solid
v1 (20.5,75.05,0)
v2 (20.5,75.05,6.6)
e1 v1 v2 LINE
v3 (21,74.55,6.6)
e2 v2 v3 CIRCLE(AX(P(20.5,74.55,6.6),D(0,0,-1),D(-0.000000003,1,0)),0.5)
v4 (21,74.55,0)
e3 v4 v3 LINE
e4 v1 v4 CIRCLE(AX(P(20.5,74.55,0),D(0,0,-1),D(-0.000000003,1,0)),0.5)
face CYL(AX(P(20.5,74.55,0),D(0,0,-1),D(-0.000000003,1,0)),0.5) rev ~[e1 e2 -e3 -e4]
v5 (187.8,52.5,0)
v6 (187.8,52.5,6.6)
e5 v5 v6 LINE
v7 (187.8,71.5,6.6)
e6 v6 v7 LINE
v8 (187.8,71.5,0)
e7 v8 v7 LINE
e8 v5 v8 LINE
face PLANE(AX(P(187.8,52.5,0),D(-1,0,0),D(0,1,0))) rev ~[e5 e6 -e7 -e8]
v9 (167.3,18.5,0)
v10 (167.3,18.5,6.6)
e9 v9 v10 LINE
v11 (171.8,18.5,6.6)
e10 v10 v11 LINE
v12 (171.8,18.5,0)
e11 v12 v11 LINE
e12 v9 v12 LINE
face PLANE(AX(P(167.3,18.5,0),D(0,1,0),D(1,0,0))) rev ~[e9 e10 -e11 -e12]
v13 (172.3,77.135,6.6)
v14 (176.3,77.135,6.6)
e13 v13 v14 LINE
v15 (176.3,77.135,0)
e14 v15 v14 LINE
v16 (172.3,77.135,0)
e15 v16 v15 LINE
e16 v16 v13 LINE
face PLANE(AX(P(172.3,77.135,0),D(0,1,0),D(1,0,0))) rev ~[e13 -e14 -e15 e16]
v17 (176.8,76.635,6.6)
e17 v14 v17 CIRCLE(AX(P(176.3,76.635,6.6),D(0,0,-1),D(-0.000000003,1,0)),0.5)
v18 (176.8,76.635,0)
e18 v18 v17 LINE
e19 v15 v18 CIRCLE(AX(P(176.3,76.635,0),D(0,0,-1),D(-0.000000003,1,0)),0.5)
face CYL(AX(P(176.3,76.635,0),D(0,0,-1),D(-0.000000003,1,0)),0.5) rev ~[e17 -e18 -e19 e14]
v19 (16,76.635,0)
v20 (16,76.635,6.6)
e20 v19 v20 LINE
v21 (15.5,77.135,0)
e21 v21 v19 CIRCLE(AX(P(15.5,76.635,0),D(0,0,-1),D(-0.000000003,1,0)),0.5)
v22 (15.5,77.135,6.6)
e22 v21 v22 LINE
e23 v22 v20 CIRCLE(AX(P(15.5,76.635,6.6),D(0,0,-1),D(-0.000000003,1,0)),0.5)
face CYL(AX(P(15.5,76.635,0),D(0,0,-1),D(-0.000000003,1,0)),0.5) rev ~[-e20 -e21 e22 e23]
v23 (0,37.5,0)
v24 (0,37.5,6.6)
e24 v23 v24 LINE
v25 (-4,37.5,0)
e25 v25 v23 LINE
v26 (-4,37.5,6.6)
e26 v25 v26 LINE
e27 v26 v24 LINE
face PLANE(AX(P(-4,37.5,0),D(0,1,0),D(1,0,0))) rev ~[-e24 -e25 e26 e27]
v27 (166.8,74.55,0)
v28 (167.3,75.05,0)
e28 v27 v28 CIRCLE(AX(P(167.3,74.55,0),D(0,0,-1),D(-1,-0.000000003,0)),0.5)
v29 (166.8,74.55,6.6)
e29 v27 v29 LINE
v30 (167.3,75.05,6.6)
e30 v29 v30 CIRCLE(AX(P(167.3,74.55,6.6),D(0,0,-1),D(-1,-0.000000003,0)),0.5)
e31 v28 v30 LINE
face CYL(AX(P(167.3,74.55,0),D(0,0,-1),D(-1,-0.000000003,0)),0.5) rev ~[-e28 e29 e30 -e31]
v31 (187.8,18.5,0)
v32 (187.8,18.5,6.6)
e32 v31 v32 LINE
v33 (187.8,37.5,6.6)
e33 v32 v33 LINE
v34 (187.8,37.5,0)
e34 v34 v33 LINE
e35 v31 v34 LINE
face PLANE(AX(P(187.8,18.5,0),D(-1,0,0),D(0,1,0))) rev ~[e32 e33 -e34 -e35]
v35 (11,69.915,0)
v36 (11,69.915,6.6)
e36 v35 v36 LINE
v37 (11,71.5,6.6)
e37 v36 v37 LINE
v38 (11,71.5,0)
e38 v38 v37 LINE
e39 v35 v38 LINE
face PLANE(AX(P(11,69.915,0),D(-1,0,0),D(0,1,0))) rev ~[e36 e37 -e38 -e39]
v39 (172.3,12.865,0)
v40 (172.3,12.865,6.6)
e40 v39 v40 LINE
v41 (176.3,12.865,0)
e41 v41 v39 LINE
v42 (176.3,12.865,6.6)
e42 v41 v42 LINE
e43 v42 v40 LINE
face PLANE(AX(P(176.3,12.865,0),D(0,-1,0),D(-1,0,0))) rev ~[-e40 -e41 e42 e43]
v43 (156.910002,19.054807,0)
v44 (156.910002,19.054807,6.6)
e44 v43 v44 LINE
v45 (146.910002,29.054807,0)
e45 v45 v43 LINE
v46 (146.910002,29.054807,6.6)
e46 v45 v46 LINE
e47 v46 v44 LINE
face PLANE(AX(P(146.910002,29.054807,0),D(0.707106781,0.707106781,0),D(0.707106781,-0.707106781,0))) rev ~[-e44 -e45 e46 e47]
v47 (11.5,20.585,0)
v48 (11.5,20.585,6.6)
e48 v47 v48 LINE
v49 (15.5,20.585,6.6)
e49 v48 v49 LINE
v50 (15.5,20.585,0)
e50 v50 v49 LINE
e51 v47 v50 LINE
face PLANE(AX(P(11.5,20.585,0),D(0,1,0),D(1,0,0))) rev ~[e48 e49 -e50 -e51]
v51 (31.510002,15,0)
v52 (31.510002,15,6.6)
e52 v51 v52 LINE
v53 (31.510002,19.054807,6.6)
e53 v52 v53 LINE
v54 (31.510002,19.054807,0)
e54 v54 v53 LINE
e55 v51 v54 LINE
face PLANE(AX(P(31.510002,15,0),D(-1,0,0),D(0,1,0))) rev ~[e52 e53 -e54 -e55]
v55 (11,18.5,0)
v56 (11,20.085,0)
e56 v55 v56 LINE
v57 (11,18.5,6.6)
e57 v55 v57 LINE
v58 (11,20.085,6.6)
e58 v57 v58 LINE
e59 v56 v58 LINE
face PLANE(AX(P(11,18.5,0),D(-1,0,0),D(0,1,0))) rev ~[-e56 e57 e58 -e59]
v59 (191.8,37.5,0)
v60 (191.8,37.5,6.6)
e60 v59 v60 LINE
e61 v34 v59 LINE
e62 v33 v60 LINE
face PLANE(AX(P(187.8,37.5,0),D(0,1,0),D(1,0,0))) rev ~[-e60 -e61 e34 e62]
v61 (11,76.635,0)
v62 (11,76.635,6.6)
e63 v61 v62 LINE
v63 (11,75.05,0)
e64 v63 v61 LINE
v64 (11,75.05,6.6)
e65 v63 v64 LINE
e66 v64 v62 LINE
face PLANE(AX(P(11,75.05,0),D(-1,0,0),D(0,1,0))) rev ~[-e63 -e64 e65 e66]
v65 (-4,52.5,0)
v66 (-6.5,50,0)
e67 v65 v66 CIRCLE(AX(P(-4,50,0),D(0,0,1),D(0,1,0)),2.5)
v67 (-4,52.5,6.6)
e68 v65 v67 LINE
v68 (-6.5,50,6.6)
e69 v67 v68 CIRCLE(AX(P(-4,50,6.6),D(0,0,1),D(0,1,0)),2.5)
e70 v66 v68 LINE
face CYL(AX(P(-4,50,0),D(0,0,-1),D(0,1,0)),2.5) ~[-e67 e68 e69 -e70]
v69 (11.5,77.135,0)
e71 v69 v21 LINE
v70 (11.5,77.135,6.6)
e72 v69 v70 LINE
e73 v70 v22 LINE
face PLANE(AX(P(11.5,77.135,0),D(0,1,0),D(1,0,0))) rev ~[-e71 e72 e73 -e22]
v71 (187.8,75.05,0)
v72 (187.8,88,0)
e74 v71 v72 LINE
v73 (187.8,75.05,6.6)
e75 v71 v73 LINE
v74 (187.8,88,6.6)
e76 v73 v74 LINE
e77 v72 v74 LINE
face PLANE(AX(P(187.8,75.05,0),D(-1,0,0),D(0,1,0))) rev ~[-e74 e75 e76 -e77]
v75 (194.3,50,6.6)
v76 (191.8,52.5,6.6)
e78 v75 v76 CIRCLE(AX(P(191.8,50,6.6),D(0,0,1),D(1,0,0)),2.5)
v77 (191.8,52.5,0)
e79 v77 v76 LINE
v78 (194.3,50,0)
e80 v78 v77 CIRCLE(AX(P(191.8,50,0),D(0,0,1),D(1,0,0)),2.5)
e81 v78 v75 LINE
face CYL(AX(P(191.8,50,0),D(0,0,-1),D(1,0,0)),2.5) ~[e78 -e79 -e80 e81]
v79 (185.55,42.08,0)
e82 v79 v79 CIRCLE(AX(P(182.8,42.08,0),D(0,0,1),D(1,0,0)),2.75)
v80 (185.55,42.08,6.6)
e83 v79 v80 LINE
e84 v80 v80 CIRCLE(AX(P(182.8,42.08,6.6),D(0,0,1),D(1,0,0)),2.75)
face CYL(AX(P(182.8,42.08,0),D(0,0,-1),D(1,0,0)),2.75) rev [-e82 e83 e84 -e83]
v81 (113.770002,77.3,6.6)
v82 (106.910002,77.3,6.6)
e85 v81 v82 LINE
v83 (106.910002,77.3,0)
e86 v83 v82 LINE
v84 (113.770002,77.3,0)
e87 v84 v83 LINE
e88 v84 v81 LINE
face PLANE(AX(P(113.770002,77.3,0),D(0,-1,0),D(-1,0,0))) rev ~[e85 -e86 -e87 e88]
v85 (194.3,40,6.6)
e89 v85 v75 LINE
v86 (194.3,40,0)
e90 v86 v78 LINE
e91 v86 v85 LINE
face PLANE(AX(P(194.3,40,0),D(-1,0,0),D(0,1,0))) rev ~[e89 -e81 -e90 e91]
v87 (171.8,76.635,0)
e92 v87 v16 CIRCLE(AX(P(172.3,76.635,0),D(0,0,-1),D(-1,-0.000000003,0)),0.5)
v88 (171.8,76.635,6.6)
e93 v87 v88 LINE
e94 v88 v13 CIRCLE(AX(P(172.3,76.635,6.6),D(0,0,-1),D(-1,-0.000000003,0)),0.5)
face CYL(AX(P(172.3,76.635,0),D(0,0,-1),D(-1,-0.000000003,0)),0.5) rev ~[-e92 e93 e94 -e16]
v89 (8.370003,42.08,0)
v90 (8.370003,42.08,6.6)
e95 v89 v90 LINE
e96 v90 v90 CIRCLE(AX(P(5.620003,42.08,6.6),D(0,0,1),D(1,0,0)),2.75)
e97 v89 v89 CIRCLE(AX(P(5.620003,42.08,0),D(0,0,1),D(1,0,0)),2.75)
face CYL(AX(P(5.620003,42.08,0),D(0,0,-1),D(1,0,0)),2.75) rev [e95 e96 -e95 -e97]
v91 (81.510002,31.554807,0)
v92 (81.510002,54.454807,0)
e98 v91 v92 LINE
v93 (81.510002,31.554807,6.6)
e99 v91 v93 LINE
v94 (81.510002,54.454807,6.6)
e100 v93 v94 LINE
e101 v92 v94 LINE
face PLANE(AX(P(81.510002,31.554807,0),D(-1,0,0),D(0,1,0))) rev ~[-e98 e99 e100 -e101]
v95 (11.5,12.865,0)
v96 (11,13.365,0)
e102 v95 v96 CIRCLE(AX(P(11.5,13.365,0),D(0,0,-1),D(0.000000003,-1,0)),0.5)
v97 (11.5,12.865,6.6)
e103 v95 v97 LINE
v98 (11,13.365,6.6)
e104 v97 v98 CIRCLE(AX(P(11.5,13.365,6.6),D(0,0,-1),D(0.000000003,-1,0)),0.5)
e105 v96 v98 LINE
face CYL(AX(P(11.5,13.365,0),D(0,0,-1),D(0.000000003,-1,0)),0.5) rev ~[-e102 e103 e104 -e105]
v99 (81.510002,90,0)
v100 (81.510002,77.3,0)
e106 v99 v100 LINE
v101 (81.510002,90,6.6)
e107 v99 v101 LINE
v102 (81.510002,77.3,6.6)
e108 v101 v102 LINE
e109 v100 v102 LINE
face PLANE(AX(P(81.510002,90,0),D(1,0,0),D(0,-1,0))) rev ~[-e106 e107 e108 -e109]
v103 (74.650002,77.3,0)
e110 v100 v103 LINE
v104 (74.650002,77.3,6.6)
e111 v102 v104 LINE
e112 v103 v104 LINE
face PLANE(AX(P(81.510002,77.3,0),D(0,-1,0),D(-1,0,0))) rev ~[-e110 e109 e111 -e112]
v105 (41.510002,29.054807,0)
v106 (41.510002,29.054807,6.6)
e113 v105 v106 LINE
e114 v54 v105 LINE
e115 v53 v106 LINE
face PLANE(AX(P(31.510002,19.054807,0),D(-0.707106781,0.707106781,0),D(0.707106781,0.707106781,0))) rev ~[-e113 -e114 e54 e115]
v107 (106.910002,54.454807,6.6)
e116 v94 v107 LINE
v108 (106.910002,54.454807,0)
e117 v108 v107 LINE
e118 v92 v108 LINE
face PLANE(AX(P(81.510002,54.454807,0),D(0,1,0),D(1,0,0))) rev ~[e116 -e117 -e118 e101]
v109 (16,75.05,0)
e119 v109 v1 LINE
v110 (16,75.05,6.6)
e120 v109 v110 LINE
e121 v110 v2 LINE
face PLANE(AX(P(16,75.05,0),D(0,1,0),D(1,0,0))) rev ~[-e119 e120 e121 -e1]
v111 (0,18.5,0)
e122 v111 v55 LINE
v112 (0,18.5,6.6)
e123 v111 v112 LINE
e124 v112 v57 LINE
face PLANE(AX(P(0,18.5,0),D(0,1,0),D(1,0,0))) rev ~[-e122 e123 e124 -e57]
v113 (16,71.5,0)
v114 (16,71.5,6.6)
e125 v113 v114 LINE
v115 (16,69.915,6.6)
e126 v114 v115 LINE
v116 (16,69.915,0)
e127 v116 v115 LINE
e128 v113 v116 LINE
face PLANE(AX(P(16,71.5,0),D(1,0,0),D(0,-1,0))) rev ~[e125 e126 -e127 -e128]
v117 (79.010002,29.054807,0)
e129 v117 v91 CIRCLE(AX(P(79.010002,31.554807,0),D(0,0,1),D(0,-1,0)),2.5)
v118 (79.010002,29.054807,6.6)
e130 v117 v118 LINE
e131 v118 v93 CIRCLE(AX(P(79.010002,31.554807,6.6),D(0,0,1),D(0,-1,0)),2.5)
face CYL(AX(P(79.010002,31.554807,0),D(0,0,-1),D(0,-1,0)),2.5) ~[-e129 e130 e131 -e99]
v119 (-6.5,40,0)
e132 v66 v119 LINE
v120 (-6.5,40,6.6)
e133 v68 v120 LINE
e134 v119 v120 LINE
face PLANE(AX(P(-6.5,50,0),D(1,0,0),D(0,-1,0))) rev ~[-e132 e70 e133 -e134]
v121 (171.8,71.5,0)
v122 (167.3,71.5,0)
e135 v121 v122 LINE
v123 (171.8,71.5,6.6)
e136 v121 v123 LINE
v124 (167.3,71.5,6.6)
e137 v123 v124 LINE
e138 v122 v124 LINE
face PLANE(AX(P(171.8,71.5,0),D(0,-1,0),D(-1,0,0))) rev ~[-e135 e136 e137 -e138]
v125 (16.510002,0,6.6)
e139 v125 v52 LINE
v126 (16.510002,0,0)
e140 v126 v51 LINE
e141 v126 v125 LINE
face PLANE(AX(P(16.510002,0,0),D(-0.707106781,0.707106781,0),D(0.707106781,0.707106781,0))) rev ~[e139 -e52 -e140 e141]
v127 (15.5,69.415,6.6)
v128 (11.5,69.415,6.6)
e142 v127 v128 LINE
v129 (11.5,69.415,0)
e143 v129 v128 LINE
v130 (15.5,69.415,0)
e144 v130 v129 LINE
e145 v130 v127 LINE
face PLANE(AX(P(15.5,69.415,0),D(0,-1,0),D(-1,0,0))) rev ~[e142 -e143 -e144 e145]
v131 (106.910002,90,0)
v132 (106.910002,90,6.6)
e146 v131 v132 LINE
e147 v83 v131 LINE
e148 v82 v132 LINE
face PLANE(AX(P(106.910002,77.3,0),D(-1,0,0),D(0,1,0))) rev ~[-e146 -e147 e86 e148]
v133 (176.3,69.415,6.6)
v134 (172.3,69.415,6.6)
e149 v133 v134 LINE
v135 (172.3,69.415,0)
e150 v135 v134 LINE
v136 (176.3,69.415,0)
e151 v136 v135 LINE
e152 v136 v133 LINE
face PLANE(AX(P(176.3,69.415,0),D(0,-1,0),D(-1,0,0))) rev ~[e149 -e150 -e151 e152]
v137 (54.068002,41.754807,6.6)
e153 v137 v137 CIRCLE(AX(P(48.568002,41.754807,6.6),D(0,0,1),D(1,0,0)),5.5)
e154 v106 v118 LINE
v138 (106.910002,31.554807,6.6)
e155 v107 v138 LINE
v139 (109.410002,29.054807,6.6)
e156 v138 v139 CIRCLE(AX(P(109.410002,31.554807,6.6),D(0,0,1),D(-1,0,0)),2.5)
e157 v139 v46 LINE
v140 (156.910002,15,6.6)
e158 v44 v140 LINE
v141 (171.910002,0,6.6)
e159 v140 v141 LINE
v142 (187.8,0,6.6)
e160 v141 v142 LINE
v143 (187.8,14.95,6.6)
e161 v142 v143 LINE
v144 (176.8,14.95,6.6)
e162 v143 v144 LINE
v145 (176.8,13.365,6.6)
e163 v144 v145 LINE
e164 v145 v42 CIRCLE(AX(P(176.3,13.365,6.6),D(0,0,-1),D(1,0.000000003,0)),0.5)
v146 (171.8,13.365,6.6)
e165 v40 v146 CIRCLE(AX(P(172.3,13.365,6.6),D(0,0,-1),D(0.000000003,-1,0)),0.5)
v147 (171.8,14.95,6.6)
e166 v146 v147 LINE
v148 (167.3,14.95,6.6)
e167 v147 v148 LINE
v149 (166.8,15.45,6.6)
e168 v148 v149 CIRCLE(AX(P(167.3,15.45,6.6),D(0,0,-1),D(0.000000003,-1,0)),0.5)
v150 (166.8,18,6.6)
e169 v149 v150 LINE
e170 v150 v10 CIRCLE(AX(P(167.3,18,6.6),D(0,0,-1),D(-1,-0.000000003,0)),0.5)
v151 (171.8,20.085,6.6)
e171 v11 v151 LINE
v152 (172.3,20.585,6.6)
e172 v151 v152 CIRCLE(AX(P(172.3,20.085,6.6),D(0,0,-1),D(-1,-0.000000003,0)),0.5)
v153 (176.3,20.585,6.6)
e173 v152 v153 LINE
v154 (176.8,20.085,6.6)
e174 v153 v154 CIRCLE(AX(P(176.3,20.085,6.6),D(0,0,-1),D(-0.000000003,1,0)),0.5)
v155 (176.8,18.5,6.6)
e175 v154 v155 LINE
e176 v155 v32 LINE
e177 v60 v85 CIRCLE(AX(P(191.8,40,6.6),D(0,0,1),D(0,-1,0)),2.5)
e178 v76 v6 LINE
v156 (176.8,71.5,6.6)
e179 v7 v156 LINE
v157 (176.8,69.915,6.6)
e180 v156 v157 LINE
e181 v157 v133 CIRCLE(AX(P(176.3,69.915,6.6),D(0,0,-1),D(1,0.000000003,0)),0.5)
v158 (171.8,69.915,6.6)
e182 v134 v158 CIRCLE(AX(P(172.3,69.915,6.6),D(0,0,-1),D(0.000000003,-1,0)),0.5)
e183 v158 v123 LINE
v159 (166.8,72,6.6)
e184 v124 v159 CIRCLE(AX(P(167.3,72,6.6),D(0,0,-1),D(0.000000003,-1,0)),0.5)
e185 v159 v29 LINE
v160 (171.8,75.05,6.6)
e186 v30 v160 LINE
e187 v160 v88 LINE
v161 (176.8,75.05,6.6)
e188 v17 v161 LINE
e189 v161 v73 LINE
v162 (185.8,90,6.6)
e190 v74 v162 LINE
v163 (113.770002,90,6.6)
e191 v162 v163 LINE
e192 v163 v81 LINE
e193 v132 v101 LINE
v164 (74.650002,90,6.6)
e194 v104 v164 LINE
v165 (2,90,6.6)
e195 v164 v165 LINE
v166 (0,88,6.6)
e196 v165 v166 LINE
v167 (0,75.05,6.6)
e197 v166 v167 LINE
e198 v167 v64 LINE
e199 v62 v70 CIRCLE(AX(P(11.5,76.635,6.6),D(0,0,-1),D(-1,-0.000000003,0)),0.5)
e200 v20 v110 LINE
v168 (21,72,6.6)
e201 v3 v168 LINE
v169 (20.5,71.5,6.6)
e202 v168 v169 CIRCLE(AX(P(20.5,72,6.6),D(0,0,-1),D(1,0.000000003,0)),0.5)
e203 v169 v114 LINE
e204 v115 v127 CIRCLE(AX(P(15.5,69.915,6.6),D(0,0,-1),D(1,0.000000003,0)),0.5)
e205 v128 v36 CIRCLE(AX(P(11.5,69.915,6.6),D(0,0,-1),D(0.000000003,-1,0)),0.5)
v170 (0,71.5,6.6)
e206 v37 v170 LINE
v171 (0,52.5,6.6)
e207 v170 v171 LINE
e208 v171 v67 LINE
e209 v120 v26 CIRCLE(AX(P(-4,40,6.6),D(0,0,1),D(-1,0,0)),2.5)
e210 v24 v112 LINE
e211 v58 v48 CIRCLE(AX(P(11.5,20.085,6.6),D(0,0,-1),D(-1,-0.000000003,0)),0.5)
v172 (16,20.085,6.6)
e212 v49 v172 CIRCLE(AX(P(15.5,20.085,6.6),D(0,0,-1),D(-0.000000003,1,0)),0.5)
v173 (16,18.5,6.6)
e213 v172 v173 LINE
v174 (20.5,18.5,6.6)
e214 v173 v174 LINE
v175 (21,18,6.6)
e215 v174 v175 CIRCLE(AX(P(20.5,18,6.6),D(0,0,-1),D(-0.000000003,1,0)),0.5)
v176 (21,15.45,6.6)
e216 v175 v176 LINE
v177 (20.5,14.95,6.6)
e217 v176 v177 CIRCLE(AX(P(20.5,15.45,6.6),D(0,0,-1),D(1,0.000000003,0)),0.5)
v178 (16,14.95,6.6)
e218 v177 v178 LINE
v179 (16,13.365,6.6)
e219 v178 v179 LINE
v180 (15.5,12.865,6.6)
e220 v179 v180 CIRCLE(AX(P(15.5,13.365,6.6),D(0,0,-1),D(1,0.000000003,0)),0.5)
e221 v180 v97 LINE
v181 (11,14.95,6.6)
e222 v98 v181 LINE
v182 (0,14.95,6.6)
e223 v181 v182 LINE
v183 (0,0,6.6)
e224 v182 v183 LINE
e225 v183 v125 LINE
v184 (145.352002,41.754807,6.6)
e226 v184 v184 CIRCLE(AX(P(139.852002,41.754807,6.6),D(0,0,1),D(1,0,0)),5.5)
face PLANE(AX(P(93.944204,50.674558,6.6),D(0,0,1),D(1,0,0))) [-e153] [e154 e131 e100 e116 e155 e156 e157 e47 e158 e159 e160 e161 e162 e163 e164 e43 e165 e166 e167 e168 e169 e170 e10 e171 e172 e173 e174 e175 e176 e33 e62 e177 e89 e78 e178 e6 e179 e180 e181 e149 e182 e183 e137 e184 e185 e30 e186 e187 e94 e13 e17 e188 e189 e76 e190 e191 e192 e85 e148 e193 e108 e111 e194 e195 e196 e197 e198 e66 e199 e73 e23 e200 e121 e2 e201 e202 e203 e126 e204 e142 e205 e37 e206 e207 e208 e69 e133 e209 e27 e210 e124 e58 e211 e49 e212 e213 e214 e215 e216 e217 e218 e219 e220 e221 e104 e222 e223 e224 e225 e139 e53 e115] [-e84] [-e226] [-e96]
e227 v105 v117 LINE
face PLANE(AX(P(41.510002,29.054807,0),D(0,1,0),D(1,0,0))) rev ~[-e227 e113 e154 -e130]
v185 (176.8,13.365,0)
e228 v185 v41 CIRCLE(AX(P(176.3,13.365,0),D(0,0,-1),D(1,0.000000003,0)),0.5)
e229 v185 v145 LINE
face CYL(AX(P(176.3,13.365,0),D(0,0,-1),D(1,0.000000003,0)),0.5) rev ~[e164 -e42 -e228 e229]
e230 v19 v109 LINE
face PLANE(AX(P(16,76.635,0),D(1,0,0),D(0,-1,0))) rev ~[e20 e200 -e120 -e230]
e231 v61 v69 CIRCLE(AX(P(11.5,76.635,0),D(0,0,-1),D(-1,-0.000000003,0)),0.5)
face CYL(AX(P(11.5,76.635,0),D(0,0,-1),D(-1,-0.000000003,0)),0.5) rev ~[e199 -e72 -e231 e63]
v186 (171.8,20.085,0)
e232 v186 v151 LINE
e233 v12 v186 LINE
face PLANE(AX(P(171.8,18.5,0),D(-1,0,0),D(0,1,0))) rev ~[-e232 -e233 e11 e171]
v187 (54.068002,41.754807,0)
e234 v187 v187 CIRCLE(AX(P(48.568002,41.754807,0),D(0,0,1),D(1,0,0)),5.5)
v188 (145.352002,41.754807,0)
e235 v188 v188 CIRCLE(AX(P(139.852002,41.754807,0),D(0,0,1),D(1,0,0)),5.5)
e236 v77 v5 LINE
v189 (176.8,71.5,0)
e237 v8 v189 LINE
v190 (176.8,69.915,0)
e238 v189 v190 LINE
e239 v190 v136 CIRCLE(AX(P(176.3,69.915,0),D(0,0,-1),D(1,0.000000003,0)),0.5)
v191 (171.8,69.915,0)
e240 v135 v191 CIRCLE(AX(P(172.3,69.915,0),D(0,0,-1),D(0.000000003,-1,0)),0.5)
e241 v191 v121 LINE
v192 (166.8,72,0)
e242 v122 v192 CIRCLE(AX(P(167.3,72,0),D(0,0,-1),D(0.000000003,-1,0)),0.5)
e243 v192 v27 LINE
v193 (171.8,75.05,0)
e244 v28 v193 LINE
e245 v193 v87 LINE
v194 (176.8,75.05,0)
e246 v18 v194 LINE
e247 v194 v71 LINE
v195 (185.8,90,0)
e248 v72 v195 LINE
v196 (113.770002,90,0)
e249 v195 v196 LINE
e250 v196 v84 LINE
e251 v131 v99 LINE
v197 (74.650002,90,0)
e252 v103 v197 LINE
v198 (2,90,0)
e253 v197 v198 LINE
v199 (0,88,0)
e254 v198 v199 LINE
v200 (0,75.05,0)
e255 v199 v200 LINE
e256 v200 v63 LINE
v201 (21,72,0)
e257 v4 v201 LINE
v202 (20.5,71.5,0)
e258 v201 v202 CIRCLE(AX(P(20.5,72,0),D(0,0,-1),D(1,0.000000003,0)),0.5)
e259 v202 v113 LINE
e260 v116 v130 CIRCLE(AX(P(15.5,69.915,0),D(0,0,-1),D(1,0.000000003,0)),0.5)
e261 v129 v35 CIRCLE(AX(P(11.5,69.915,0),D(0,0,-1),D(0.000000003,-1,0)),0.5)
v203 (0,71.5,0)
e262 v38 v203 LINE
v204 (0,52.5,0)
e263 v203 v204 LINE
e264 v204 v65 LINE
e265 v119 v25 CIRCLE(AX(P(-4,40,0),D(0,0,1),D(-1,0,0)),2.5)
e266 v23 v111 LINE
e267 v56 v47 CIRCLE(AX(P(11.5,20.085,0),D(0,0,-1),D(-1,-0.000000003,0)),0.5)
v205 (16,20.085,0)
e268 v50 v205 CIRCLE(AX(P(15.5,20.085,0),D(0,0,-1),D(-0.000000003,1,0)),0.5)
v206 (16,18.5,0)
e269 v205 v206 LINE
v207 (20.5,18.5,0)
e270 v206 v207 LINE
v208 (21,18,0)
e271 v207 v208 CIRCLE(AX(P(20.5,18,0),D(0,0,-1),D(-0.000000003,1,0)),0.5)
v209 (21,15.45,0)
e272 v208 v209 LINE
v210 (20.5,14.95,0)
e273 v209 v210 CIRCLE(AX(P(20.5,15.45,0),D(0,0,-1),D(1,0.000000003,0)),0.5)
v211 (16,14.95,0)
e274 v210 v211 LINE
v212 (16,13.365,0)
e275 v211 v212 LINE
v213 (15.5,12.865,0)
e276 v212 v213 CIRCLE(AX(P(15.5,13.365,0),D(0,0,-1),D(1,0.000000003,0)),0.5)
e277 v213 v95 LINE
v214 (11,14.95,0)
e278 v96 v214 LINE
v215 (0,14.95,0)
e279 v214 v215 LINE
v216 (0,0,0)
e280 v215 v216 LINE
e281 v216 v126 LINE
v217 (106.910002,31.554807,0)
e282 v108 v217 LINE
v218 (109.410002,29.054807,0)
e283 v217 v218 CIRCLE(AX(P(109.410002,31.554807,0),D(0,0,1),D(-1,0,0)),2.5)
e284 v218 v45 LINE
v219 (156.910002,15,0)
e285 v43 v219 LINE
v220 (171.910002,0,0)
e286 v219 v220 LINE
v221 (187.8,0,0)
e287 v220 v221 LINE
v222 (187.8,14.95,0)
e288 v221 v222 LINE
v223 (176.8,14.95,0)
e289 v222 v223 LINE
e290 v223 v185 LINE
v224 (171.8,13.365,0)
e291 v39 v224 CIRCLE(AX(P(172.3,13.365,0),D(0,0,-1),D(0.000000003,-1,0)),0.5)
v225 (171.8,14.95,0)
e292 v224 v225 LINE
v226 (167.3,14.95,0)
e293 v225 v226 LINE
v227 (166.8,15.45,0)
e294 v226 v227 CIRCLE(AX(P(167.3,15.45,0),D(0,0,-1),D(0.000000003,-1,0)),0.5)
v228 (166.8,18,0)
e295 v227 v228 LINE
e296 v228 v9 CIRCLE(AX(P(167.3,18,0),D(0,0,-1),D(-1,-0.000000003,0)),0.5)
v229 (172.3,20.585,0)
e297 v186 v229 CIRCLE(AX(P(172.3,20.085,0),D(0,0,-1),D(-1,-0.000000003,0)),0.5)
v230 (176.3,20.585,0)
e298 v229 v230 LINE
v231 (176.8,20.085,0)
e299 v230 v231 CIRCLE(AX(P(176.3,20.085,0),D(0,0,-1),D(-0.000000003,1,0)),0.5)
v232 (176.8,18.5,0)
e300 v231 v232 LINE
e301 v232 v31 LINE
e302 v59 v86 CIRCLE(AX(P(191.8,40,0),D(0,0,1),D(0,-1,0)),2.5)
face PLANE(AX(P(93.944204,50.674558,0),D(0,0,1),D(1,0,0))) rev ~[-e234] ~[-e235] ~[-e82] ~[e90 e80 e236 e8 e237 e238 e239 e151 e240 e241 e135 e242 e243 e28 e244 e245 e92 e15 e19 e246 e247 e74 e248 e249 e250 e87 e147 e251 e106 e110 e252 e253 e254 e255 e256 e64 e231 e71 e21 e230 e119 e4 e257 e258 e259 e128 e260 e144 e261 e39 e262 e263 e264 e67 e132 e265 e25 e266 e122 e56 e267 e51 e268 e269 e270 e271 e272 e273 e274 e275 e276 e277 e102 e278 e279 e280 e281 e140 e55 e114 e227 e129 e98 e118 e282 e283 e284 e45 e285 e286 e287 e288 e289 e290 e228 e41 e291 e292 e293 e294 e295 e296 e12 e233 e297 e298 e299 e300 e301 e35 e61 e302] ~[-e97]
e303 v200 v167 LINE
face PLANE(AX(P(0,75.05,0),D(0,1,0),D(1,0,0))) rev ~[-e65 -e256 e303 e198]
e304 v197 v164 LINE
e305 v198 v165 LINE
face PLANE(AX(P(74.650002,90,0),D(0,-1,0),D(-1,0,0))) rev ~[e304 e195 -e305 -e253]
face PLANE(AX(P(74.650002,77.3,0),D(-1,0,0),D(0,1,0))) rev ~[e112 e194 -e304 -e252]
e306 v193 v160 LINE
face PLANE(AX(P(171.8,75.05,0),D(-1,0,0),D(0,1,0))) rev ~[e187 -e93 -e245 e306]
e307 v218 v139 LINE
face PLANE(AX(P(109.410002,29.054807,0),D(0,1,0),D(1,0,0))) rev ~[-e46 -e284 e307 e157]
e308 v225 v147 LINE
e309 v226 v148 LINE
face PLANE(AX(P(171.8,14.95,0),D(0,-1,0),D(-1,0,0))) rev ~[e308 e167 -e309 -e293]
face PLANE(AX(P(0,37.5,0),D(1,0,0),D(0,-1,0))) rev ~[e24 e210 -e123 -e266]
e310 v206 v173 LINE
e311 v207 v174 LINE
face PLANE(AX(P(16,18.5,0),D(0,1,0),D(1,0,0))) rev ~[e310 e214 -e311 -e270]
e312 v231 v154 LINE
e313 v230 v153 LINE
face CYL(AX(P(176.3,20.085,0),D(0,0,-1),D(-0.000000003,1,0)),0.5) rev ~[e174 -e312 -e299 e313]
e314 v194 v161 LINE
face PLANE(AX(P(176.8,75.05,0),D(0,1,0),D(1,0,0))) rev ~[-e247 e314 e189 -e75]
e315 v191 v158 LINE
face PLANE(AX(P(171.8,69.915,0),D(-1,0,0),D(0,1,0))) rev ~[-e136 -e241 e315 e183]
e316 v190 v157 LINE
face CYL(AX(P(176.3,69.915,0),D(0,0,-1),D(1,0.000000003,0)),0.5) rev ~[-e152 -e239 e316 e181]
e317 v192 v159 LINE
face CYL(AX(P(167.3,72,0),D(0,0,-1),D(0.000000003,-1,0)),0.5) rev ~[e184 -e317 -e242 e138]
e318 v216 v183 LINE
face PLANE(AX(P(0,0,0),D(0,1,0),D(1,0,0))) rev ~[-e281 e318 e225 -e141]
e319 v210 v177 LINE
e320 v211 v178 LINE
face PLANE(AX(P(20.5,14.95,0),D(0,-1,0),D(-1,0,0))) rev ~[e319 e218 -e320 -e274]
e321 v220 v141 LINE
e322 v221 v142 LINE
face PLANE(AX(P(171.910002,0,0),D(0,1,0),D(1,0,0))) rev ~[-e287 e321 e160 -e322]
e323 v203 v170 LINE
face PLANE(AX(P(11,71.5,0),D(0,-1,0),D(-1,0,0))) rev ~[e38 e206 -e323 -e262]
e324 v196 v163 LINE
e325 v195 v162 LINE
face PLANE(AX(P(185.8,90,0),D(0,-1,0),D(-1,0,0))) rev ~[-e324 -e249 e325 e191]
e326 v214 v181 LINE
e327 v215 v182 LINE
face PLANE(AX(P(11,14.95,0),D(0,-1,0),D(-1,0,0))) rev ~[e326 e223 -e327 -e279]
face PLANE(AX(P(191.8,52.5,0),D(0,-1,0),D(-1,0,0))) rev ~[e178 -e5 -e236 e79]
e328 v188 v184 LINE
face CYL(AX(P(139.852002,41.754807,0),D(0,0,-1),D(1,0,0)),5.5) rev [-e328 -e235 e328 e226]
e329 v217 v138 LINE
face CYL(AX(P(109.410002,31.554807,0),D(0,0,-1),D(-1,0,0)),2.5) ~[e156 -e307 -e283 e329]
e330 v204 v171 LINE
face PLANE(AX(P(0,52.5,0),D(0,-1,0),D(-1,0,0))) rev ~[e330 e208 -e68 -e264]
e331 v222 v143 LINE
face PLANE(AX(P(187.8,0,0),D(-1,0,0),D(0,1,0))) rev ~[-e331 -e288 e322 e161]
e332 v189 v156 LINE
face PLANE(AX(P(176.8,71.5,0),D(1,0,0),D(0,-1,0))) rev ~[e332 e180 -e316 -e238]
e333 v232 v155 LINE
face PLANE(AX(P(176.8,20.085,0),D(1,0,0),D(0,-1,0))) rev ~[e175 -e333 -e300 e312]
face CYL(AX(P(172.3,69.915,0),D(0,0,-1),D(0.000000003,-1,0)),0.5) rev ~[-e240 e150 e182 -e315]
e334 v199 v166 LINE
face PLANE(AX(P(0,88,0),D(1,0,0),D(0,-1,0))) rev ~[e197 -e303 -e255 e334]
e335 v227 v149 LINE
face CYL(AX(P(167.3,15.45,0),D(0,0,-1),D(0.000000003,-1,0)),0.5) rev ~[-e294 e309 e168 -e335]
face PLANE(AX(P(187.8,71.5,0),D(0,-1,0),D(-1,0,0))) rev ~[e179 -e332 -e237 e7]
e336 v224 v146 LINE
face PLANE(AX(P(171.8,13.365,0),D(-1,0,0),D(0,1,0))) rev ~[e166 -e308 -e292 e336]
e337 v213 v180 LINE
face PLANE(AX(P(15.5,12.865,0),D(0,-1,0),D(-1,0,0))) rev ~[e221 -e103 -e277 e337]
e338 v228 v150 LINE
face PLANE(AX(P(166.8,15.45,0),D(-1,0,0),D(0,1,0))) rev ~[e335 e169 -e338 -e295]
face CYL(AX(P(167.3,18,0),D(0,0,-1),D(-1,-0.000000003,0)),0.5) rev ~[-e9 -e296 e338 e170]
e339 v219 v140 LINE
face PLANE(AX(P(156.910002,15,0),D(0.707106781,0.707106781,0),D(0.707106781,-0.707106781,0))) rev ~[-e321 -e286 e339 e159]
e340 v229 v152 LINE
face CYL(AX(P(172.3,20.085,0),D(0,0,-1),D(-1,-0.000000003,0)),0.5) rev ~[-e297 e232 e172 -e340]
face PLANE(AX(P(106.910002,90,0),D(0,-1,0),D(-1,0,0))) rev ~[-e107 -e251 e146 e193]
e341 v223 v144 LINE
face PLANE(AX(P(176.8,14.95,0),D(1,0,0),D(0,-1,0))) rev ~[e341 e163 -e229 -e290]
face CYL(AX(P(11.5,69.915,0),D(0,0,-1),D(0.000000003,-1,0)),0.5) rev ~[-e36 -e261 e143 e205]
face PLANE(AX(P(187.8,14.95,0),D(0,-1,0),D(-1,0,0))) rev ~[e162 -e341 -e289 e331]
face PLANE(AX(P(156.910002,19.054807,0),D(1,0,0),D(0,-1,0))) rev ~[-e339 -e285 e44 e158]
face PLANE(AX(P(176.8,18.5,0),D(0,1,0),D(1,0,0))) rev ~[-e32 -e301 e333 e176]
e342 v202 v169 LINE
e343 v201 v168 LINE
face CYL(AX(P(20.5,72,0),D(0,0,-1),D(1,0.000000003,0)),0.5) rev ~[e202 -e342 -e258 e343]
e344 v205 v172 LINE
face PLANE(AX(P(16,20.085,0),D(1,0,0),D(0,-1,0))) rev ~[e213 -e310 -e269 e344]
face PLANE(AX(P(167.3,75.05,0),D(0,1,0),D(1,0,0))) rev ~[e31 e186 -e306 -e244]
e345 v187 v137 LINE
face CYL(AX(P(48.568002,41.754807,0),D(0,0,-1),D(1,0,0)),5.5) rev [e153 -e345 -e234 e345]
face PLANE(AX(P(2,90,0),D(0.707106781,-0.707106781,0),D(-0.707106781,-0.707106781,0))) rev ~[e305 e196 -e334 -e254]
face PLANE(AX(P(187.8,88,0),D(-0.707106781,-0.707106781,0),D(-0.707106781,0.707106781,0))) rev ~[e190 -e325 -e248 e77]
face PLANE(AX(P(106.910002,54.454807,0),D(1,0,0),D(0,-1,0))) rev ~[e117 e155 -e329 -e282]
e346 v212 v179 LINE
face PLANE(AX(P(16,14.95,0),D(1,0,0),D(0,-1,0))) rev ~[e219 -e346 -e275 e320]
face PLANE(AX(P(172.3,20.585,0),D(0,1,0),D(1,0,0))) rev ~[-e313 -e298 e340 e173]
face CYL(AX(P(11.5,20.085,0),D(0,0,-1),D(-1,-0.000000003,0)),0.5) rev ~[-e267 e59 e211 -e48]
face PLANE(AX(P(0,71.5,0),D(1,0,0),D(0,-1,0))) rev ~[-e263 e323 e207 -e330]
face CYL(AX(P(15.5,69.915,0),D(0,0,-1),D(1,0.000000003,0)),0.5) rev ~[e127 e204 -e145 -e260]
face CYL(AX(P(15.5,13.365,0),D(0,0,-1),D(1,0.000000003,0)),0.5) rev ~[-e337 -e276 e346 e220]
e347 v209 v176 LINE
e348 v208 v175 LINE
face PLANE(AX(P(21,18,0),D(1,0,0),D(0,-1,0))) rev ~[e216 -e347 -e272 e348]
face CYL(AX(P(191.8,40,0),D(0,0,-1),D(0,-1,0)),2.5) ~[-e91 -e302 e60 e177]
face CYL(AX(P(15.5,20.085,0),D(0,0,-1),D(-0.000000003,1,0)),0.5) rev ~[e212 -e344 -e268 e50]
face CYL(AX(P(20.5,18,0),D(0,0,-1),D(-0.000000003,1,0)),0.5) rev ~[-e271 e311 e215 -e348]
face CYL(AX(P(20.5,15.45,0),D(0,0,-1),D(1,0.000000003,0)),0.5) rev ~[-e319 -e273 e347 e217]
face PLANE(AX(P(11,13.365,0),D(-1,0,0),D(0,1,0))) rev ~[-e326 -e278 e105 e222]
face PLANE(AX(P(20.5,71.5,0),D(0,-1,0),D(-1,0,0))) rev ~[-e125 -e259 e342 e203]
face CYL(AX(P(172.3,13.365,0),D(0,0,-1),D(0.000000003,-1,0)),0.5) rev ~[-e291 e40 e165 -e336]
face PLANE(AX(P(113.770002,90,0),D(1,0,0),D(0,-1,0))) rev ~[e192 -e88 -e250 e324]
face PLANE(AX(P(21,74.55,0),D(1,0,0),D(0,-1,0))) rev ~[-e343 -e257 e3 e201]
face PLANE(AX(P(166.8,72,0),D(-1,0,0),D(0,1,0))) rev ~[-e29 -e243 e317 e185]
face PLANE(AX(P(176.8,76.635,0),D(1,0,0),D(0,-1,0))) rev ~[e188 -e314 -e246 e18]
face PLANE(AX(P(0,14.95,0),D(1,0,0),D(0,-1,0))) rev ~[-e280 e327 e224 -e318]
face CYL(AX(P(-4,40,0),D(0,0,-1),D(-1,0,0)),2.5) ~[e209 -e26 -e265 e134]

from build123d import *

# Parameters (mm, degrees)
MODEL_R             = 5.5
MODEL_R_2           = 2.75
BOSS_EXTRUDE1_DEPTH = 6.6


with BuildPart() as part:
    # Model → Boss-Extrude1 (new body)
    with BuildSketch(Plane.XY):
        with BuildLine():
            Line((146.910001664, 29.054806781), (156.910001664, 19.054806781))
            Line((156.910001664, 19.054806781), (156.910001664, 15))
            Line((156.910001664, 15), (171.910001664, 0))
            Line((171.910001664, 0), (187.8, 0))
            Line((187.8, 0), (187.8, 14.95))
            Line((187.8, 14.95), (176.8, 14.95))
            Line((176.8, 14.95), (176.8, 13.365))
            ThreePointArc((176.8, 13.365), (176.653553391, 13.011446609), (176.3, 12.865))
            Line((176.3, 12.865), (172.3, 12.865))
            ThreePointArc((172.3, 12.865), (171.946446609, 13.011446609), (171.8, 13.365))
            Line((171.8, 13.365), (171.8, 14.95))
            Line((171.8, 14.95), (167.3, 14.95))
            ThreePointArc((167.3, 14.95), (166.946446609, 15.096446609), (166.8, 15.45))
            Line((166.8, 15.45), (166.8, 18))
            ThreePointArc((166.8, 18), (166.946446609, 18.353553391), (167.3, 18.5))
            Line((167.3, 18.5), (171.8, 18.5))
            Line((171.8, 18.5), (171.8, 20.085))
            ThreePointArc((171.8, 20.085), (171.946446609, 20.438553391), (172.3, 20.585))
            Line((172.3, 20.585), (176.3, 20.585))
            ThreePointArc((176.3, 20.585), (176.653553391, 20.438553391), (176.8, 20.085))
            Line((176.8, 20.085), (176.8, 18.5))
            Line((176.8, 18.5), (187.8, 18.5))
            Line((187.8, 18.5), (187.8, 37.5))
            Line((187.8, 37.5), (191.8, 37.5))
            ThreePointArc((191.8, 37.5), (193.567766953, 38.232233047), (194.3, 40))
            Line((194.3, 40), (194.3, 50))
            ThreePointArc((194.3, 50), (193.567766953, 51.767766953), (191.8, 52.5))
            Line((191.8, 52.5), (187.8, 52.5))
            Line((187.8, 52.5), (187.8, 71.5))
            Line((187.8, 71.5), (176.8, 71.5))
            Line((176.8, 71.5), (176.8, 69.915))
            ThreePointArc((176.8, 69.915), (176.653553391, 69.561446609), (176.3, 69.415))
            Line((176.3, 69.415), (172.3, 69.415))
            ThreePointArc((172.3, 69.415), (171.946446609, 69.561446609), (171.8, 69.915))
            Line((171.8, 69.915), (171.8, 71.5))
            Line((171.8, 71.5), (167.3, 71.5))
            ThreePointArc((167.3, 71.5), (166.946446609, 71.646446609), (166.8, 72))
            Line((166.8, 72), (166.8, 74.55))
            ThreePointArc((166.8, 74.55), (166.946446609, 74.903553391), (167.3, 75.05))
            Line((167.3, 75.05), (171.8, 75.05))
            Line((171.8, 75.05), (171.8, 76.635))
            ThreePointArc((171.8, 76.635), (171.946446609, 76.988553391), (172.3, 77.135))
            Line((172.3, 77.135), (176.3, 77.135))
            ThreePointArc((176.3, 77.135), (176.653553391, 76.988553391), (176.8, 76.635))
            Line((176.8, 76.635), (176.8, 75.05))
            Line((176.8, 75.05), (187.8, 75.05))
            Line((187.8, 75.05), (187.8, 88))
            Line((187.8, 88), (185.8, 90))
            Line((185.8, 90), (113.770001664, 90))
            Line((113.770001664, 90), (113.770001664, 77.3))
            Line((113.770001664, 77.3), (106.910001664, 77.3))
            Line((106.910001664, 77.3), (106.910001664, 90))
            Line((106.910001664, 90), (81.510001665, 90))
            Line((81.510001665, 90), (81.510001665, 77.3))
            Line((81.510001665, 77.3), (74.650001665, 77.3))
            Line((74.650001665, 77.3), (74.650001665, 90))
            Line((74.650001665, 90), (2, 90))
            Line((2, 90), (0, 88))
            Line((0, 88), (0, 75.05))
            Line((0, 75.05), (11, 75.05))
            Line((11, 75.05), (11, 76.635))
            ThreePointArc((11, 76.635), (11.146446609, 76.988553391), (11.5, 77.135))
            Line((11.5, 77.135), (15.5, 77.135))
            ThreePointArc((15.5, 77.135), (15.853553391, 76.988553391), (16, 76.635))
            Line((16, 76.635), (16, 75.05))
            Line((16, 75.05), (20.5, 75.05))
            ThreePointArc((20.5, 75.05), (20.853553391, 74.903553391), (21, 74.55))
            Line((21, 74.55), (21, 72))
            ThreePointArc((21, 72), (20.853553391, 71.646446609), (20.5, 71.5))
            Line((20.5, 71.5), (16, 71.5))
            Line((16, 71.5), (16, 69.915))
            ThreePointArc((16, 69.915), (15.853553391, 69.561446609), (15.5, 69.415))
            Line((15.5, 69.415), (11.5, 69.415))
            ThreePointArc((11.5, 69.415), (11.146446609, 69.561446609), (11, 69.915))
            Line((11, 69.915), (11, 71.5))
            Line((11, 71.5), (0, 71.5))
            Line((0, 71.5), (0, 52.5))
            Line((0, 52.5), (-4, 52.5))
            ThreePointArc((-4, 52.5), (-5.767766953, 51.767766953), (-6.5, 50))
            Line((-6.5, 50), (-6.5, 40))
            ThreePointArc((-6.5, 40), (-5.767766953, 38.232233047), (-4, 37.5))
            Line((-4, 37.5), (0, 37.5))
            Line((0, 37.5), (0, 18.5))
            Line((0, 18.5), (11, 18.5))
            Line((11, 18.5), (11, 20.085))
            ThreePointArc((11, 20.085), (11.146446609, 20.438553391), (11.5, 20.585))
            Line((11.5, 20.585), (15.5, 20.585))
            ThreePointArc((15.5, 20.585), (15.853553391, 20.438553391), (16, 20.085))
            Line((16, 20.085), (16, 18.5))
            Line((16, 18.5), (20.5, 18.5))
            ThreePointArc((20.5, 18.5), (20.853553391, 18.353553391), (21, 18))
            Line((21, 18), (21, 15.45))
            ThreePointArc((21, 15.45), (20.853553391, 15.096446609), (20.5, 14.95))
            Line((20.5, 14.95), (16, 14.95))
            Line((16, 14.95), (16, 13.365))
            ThreePointArc((16, 13.365), (15.853553391, 13.011446609), (15.5, 12.865))
            Line((15.5, 12.865), (11.5, 12.865))
            ThreePointArc((11.5, 12.865), (11.146446609, 13.011446609), (11, 13.365))
            Line((11, 13.365), (11, 14.95))
            Line((11, 14.95), (0, 14.95))
            Line((0, 14.95), (0, 0))
            Line((0, 0), (16.510001665, 0))
            Line((16.510001665, 0), (31.510001665, 15))
            Line((31.510001665, 15), (31.510001665, 19.054806781))
            Line((31.510001665, 19.054806781), (41.510001665, 29.054806781))
            Line((41.510001665, 29.054806781), (79.010001665, 29.054806781))
            ThreePointArc((79.010001665, 29.054806781), (80.777768618, 29.787039828), (81.510001665, 31.554806781))
            Line((81.510001665, 31.554806781), (81.510001665, 54.45480678))
            Line((81.510001665, 54.45480678), (106.910001664, 54.45480678))
            Line((106.910001664, 54.45480678), (106.910001664, 31.554806781))
            ThreePointArc((106.910001664, 31.554806781), (107.642234711, 29.787039828), (109.410001664, 29.054806781))
            Line((109.410001664, 29.054806781), (146.910001664, 29.054806781))
        make_face()
        with Locations((139.852001664, 41.754806781)):
            Circle(MODEL_R, mode=Mode.SUBTRACT)
        with Locations((48.568001665, 41.754806781)):
            Circle(MODEL_R, mode=Mode.SUBTRACT)
        with Locations((182.8, 42.08)):
            Circle(MODEL_R_2, mode=Mode.SUBTRACT)
        with Locations((5.62000333, 42.08)):
            Circle(MODEL_R_2, mode=Mode.SUBTRACT)
    extrude(amount=BOSS_EXTRUDE1_DEPTH)


solid = part.part
